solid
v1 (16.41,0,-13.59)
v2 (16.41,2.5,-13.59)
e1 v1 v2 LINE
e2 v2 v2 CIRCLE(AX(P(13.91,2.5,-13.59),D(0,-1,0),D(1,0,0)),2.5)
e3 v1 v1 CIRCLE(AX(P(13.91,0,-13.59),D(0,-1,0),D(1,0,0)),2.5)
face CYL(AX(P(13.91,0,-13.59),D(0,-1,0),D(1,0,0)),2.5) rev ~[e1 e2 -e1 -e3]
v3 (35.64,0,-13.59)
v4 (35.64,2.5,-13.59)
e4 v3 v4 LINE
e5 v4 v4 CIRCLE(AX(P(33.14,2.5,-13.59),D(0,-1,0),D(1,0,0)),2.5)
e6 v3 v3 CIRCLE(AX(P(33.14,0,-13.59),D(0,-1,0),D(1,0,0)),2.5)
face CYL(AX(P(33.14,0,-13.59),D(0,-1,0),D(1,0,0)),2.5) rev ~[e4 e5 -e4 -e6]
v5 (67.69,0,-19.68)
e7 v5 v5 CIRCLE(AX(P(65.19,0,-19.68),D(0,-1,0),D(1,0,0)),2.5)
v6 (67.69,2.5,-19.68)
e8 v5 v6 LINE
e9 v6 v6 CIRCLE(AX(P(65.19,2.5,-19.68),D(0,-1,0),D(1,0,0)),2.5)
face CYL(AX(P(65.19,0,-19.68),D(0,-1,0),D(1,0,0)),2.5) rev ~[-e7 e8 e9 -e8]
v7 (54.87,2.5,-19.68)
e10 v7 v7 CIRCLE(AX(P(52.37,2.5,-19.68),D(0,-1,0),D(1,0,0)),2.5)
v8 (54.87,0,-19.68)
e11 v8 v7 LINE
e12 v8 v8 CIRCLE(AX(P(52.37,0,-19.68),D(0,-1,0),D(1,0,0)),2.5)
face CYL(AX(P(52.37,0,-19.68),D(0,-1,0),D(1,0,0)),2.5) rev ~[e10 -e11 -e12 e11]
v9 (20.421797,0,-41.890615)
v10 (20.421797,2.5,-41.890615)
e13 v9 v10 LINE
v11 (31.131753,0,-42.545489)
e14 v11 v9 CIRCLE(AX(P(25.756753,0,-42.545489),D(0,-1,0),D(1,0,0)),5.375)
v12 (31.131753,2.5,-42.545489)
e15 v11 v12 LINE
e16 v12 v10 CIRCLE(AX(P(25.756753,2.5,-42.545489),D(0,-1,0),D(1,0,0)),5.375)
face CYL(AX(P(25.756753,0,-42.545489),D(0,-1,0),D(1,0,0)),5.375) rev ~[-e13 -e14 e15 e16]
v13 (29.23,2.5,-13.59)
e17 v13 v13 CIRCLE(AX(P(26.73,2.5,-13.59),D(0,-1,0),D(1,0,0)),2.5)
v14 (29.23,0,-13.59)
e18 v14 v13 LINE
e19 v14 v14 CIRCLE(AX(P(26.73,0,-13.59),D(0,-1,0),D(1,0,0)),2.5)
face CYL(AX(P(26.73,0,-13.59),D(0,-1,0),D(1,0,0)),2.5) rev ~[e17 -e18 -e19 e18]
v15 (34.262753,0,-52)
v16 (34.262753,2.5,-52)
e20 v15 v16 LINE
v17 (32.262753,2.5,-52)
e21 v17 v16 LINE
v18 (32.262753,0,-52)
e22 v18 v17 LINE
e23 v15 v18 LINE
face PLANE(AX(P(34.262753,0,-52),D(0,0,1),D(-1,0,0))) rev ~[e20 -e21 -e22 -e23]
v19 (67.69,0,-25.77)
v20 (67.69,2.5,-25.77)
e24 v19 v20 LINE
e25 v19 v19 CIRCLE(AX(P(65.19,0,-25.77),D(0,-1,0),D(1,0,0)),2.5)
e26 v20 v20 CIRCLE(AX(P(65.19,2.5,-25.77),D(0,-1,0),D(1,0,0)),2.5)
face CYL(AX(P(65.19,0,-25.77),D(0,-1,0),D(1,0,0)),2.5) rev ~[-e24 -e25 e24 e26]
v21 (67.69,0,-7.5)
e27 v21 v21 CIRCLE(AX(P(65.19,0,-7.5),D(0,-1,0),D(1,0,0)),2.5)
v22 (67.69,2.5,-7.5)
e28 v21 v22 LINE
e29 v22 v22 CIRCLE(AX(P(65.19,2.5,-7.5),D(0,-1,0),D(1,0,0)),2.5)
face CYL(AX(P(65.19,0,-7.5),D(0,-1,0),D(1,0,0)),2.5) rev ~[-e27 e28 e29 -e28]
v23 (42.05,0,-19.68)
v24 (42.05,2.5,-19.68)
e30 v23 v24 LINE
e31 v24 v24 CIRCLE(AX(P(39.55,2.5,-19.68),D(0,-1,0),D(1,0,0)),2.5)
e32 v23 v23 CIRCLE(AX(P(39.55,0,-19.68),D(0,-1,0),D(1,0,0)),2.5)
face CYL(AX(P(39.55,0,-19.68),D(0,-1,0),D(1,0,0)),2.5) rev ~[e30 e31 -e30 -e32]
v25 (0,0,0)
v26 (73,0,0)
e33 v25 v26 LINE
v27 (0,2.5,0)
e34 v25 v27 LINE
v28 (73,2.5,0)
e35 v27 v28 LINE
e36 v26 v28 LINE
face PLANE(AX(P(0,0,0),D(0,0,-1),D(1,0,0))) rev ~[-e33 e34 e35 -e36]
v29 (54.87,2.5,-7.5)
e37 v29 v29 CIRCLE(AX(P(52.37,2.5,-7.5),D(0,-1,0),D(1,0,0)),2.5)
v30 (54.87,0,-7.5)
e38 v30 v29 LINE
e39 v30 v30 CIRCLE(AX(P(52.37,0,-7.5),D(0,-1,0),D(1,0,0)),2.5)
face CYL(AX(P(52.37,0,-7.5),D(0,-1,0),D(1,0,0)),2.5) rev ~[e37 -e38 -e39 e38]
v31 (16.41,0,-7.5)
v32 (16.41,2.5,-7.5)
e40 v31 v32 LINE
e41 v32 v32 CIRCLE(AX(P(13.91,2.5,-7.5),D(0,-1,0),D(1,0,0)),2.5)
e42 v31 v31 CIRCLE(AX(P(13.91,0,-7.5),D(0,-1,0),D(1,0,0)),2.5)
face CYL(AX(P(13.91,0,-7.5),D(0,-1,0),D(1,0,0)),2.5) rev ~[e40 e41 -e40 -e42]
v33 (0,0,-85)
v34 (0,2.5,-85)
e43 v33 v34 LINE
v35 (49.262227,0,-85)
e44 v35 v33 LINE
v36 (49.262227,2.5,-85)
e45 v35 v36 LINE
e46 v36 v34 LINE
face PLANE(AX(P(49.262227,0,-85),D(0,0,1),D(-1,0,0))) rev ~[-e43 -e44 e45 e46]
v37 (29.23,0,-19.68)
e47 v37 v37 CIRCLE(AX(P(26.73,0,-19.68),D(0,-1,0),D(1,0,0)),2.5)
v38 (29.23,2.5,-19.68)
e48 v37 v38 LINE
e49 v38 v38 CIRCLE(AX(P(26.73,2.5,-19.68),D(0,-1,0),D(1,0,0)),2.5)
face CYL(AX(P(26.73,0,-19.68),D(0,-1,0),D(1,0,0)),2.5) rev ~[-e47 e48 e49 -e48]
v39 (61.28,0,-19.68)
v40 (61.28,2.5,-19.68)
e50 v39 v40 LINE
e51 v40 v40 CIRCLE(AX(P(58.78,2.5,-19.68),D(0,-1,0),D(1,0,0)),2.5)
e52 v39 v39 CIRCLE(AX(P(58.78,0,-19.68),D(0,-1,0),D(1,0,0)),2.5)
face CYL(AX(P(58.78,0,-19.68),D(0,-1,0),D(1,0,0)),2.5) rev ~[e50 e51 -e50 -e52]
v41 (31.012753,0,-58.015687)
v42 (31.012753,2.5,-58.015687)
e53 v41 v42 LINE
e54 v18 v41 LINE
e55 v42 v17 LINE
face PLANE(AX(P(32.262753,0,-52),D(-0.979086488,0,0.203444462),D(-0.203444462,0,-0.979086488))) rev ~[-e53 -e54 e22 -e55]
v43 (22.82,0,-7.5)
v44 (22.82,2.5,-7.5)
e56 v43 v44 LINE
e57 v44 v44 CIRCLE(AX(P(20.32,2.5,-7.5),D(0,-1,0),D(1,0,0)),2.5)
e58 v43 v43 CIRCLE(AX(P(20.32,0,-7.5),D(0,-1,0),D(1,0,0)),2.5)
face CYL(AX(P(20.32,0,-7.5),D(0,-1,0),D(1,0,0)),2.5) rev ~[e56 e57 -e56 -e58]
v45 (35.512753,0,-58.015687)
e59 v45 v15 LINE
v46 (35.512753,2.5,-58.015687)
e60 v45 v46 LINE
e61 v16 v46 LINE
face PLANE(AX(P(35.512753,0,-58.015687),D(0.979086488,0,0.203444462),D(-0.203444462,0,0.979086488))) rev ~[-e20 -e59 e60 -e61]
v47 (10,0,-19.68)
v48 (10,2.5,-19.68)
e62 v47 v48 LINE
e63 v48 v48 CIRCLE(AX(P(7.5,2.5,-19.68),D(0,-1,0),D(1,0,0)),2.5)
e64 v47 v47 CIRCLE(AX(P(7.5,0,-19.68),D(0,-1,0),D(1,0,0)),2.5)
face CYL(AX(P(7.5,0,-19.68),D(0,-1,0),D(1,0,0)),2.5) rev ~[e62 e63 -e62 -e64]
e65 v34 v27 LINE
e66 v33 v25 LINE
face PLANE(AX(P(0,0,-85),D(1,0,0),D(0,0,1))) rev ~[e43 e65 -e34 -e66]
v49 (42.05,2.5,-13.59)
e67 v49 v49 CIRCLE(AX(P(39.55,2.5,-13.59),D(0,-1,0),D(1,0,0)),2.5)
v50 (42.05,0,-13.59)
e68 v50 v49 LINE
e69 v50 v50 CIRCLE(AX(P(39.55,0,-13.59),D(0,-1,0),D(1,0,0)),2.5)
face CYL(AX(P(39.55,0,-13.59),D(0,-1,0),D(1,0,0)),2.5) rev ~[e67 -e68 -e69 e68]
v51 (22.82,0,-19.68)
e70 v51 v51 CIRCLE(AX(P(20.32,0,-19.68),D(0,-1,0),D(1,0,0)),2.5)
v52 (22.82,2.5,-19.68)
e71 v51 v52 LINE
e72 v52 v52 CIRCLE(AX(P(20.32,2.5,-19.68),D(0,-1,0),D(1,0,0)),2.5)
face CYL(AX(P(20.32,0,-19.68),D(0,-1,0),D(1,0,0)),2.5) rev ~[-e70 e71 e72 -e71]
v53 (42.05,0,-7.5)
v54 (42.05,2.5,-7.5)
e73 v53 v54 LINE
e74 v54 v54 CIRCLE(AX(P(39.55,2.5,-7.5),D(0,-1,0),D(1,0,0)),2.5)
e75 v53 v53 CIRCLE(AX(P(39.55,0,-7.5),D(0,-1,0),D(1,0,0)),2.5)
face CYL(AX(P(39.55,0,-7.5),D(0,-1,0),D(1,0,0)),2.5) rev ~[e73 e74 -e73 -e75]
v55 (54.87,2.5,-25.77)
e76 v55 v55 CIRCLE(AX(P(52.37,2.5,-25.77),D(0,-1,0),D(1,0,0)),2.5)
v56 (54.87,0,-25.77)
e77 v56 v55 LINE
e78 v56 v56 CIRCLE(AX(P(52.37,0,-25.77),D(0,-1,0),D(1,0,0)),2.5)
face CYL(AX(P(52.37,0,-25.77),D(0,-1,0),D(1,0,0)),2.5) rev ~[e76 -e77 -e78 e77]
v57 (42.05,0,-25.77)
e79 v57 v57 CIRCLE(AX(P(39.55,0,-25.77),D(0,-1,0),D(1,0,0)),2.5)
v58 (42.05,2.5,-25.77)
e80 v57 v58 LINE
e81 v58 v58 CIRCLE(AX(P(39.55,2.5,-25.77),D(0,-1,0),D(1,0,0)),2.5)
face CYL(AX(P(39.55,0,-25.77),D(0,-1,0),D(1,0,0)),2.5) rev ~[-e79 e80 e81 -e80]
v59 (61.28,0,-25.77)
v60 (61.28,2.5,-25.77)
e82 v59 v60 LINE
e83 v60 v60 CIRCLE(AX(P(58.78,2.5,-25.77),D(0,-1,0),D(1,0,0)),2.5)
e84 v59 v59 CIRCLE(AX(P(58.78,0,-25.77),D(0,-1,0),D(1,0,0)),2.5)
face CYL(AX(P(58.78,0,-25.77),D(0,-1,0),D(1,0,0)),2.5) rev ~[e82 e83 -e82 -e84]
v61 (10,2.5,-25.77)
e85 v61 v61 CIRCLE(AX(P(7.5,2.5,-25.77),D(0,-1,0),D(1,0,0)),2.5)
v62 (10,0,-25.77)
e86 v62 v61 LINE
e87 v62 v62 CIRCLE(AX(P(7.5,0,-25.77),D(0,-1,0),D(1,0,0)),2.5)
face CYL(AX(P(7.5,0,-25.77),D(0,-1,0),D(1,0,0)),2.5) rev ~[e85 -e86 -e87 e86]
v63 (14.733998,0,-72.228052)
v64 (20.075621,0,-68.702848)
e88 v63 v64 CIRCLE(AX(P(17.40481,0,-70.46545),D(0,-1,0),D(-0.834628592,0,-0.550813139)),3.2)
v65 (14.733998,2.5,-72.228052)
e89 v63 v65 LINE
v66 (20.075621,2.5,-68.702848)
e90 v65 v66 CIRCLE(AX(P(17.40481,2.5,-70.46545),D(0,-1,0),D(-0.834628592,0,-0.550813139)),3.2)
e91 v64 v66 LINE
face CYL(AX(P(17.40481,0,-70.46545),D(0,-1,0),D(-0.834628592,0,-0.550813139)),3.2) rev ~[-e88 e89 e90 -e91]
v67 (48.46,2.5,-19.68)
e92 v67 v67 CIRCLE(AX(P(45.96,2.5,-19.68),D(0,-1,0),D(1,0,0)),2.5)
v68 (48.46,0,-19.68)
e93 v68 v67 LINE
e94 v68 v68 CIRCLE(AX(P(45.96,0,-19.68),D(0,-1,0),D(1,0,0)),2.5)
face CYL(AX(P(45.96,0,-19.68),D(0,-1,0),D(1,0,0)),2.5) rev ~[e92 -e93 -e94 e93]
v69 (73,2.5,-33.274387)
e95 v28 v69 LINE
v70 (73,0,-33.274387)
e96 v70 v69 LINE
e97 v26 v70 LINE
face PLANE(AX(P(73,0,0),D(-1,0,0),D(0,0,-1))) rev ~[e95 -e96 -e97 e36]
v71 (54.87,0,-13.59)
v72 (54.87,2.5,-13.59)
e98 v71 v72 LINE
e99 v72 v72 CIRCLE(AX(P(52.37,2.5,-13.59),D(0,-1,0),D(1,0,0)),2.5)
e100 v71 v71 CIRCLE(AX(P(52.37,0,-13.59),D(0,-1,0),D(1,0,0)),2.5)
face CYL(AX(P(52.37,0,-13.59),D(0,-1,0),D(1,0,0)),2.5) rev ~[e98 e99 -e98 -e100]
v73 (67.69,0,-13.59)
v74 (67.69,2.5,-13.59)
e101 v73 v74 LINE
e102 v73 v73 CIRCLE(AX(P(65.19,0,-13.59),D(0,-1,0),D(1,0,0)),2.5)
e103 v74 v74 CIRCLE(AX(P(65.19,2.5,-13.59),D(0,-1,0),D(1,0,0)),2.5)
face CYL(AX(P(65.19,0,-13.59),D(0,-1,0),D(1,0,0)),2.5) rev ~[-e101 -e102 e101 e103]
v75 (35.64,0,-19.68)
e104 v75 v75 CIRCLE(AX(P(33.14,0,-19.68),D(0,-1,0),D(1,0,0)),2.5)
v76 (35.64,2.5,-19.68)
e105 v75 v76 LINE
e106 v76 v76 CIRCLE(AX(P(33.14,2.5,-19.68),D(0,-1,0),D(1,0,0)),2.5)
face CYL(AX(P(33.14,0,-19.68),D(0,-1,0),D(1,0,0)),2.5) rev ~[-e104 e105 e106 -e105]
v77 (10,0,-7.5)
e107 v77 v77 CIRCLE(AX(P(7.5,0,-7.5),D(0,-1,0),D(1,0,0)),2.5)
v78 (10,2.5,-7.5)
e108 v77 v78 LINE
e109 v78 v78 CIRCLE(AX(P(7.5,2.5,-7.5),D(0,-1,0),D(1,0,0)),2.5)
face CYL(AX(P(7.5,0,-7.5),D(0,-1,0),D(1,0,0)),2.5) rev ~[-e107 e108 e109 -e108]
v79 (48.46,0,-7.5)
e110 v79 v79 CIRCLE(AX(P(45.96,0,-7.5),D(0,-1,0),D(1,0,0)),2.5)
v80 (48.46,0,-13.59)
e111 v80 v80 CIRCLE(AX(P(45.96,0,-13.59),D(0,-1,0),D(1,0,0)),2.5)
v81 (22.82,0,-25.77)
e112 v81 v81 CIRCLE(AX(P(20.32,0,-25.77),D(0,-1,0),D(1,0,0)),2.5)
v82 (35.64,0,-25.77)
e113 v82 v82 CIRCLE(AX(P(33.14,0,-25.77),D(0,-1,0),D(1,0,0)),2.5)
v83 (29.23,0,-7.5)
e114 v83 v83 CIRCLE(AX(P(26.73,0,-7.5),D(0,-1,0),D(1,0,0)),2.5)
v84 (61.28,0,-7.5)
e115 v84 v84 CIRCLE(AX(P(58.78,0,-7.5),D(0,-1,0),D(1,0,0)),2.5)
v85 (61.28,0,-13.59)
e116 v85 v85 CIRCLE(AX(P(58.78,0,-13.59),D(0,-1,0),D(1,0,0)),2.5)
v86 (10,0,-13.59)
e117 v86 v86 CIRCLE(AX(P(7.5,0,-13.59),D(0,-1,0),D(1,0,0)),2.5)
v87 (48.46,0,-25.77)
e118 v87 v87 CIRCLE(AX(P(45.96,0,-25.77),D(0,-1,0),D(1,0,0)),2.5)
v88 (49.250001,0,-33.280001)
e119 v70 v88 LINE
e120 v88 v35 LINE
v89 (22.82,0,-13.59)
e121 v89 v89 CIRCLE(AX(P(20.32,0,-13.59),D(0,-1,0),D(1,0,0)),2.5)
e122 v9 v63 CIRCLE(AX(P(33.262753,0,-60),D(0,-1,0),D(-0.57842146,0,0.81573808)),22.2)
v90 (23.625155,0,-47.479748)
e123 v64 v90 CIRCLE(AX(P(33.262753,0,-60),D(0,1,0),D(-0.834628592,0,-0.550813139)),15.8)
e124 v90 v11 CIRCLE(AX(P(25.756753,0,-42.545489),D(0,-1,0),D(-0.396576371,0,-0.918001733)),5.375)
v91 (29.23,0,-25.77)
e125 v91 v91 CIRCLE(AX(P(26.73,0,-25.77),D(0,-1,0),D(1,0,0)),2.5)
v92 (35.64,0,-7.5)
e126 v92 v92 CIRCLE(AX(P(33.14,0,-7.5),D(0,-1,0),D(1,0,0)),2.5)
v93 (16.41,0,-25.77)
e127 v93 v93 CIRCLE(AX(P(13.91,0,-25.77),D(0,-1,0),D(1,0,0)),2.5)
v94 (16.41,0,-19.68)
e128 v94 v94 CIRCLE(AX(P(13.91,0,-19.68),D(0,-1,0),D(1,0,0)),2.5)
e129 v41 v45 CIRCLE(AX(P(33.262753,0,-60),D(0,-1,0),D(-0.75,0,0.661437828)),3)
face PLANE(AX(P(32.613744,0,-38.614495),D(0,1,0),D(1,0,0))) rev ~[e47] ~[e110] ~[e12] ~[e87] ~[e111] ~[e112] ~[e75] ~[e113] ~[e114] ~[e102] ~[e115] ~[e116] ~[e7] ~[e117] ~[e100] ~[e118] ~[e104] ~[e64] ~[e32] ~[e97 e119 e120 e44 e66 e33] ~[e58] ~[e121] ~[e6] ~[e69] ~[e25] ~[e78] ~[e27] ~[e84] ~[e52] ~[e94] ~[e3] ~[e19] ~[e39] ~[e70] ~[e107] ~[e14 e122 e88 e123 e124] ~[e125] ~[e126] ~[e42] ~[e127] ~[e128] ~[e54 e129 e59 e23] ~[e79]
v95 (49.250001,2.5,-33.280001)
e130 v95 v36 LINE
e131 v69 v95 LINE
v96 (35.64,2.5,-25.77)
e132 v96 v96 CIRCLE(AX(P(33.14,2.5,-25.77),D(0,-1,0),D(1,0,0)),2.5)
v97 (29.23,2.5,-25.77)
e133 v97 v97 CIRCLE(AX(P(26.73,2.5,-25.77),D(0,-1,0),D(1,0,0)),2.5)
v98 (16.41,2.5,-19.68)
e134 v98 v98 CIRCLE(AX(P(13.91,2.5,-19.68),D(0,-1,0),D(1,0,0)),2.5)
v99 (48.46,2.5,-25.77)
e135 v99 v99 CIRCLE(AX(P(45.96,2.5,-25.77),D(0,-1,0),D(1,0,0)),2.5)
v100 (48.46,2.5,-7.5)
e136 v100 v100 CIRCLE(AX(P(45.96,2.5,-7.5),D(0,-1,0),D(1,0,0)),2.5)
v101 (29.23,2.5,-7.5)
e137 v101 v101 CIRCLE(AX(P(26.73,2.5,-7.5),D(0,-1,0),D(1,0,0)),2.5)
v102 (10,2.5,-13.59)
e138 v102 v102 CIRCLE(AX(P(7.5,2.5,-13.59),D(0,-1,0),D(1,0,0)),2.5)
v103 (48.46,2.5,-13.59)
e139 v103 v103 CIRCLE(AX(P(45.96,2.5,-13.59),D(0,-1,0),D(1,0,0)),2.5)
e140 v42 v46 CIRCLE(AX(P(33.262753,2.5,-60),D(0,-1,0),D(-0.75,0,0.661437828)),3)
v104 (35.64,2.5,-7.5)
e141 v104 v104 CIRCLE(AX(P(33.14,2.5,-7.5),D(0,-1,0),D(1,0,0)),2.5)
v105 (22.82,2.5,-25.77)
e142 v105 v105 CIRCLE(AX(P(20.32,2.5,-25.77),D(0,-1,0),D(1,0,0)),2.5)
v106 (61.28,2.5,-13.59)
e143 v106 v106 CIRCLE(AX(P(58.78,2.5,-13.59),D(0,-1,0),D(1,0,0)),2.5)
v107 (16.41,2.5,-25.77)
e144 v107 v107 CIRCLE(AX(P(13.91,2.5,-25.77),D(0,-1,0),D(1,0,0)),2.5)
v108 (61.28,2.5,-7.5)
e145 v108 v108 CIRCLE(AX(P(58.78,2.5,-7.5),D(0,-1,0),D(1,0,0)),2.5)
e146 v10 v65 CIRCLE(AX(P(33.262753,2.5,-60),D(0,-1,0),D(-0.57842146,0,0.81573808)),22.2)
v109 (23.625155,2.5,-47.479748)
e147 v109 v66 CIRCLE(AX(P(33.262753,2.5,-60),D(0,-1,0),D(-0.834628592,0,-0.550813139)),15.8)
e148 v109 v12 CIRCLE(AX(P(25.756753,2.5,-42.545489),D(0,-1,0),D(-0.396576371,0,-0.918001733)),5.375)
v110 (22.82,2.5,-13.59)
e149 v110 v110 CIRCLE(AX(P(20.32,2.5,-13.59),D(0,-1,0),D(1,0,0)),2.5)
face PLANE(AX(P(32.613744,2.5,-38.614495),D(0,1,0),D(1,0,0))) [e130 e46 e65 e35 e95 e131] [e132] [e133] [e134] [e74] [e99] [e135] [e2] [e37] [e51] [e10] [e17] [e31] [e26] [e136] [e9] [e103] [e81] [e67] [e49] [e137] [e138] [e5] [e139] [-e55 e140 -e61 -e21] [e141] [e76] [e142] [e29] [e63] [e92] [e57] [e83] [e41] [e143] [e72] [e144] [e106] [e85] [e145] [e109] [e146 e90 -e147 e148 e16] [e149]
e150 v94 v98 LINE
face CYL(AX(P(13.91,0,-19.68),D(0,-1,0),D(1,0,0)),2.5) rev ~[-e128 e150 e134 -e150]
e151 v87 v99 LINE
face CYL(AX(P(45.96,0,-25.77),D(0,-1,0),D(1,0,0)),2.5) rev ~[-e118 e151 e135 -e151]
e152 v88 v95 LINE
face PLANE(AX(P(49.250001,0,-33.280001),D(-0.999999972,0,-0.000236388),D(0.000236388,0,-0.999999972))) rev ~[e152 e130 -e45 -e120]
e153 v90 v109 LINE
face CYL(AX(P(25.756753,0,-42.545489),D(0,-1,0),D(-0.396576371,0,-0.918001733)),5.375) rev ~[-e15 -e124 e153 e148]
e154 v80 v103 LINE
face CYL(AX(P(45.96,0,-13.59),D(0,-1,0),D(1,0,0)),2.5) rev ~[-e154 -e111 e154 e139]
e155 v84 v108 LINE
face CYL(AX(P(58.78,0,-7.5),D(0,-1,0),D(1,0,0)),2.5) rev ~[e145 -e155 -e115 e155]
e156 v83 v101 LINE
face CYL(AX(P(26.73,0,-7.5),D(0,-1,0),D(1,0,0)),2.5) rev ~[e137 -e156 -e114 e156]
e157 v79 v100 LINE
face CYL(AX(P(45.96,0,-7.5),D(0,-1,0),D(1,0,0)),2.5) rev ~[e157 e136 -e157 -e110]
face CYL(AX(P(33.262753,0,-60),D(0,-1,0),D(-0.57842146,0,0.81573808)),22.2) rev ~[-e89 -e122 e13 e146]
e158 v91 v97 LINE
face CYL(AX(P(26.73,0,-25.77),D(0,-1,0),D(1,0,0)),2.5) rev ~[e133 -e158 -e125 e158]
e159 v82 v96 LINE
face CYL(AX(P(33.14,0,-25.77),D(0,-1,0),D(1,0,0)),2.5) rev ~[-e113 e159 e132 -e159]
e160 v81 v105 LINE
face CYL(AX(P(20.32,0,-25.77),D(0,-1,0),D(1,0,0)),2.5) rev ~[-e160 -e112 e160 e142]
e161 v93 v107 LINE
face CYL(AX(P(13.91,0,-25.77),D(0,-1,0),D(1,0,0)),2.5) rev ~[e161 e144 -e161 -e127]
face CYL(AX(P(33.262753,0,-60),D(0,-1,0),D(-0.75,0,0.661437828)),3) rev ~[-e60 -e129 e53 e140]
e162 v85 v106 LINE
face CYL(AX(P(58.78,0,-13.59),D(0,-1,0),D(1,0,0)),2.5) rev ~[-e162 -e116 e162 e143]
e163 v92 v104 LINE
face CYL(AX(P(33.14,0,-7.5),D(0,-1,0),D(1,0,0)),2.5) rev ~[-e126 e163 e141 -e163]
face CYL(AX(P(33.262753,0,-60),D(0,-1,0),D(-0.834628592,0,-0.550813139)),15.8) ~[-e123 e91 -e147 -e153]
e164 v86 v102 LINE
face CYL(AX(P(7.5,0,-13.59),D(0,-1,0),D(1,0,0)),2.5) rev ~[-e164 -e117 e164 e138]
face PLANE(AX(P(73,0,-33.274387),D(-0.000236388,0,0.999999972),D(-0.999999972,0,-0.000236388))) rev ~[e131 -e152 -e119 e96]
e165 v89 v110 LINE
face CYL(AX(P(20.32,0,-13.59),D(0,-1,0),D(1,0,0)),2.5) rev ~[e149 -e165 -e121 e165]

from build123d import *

# Parameters (mm, degrees)
Y_KSEKLIK_EKSTR_ZYON1_DEPTH = 2.5
IZIM2_R                     = 2.5
KES_EKSTR_ZYON1_DEPTH       = 3.5
KES_EKSTR_ZYON2_DEPTH       = 3.5
IZIM5_R                     = 2.5
KES_EKSTR_ZYON3_DEPTH       = 10


with BuildPart() as part:
    # Çizim1 → Yükseklik-Ekstrüzyon1 (new body)
    with BuildSketch(Plane(origin=(0, 0, 0), x_dir=(1, 0, 0), z_dir=(0, 1, 0))):
        Polygon((0, 85), (0, 0), (73, 0), (73, 33.274387234), (49.250000664, 33.280001445), (49.262226642, 85), align=None)
    extrude(amount=Y_KSEKLIK_EKSTR_ZYON1_DEPTH)

    # Çizim2 → Kes-Ekstrüzyon1 (cut, through all)
    with BuildSketch(Plane.XZ):
        with BuildLine():
            Line((32.262752909, -52), (31.012752909, -58.015686517))
            ThreePointArc((31.012752909, -58.015686517), (33.262752909, -63), (35.512752909, -58.015686517))
            Line((35.512752909, -58.015686517), (34.262752909, -52))
            Line((34.262752909, -52), (32.262752909, -52))
        make_face()
        with Locations((33.262752909, -60)):
            Circle(IZIM2_R, mode=Mode.SUBTRACT)
        with Locations((33.262752909, -60)):
            Circle(IZIM2_R)
    extrude(amount=-KES_EKSTR_ZYON1_DEPTH, mode=Mode.SUBTRACT)

    # Çizim3 → Kes-Ekstrüzyon2 (cut, through all)
    with BuildSketch(Plane.XZ):
        with BuildLine():
            ThreePointArc((23.625155421, -47.479747819), (21.093389501, -45.218251496), (20.421796506, -41.890614625))
            ThreePointArc((20.421796506, -41.890614625), (11.442928986, -55.909121855), (14.73399817, -72.228051677))
            ThreePointArc((14.73399817, -72.228051677), (19.167411707, -73.136261128), (20.075621158, -68.70284759))
            ThreePointArc((20.075621158, -68.70284759), (17.679202056, -57.393672541), (23.625155421, -47.479747819))
        make_face()
        with BuildLine():
            ThreePointArc((23.625155421, -47.479747819), (28.709149541, -47.037034129), (31.131753414, -42.545488503))
            ThreePointArc((31.131753414, -42.545488503), (26.084801903, -37.180508616), (20.421796506, -41.890614625))
            ThreePointArc((20.421796506, -41.890614625), (22.396967687, -40.640901066), (24.492585078, -39.605781304))
            ThreePointArc((24.492585078, -39.605781304), (28.696460613, -41.281320168), (27.02092175, -45.485195703))
            ThreePointArc((27.02092175, -45.485195703), (25.260651743, -46.376256868), (23.625155421, -47.479747819))
        make_face()
        with BuildLine():
            ThreePointArc((24.492585078, -39.605781304), (22.396967687, -40.640901066), (20.421796506, -41.890614625))
            ThreePointArc((20.421796506, -41.890614625), (21.093389501, -45.218251496), (23.625155421, -47.479747819))
            ThreePointArc((23.625155421, -47.479747819), (25.260651743, -46.376256868), (27.02092175, -45.485195703))
            ThreePointArc((27.02092175, -45.485195703), (28.696460613, -41.281320168), (24.492585078, -39.605781304))
        make_face()
    extrude(amount=-KES_EKSTR_ZYON2_DEPTH, mode=Mode.SUBTRACT)

    # Çizim5 → Kes-Ekstrüzyon3 (cut)
    with BuildSketch(Plane.XZ):
        with Locations((65.19, -7.5)):
            Circle(IZIM5_R)
        with Locations((58.78, -7.5)):
            Circle(IZIM5_R)
        with Locations((52.37, -7.5)):
            Circle(IZIM5_R)
        with Locations((45.96, -7.5)):
            Circle(IZIM5_R)
        with Locations((39.55, -7.5)):
            Circle(IZIM5_R)
        with Locations((33.14, -7.5)):
            Circle(IZIM5_R)
        with Locations((26.73, -7.5)):
            Circle(IZIM5_R)
        with Locations((20.32, -7.5)):
            Circle(IZIM5_R)
        with Locations((13.91, -7.5)):
            Circle(IZIM5_R)
        with Locations((7.5, -13.59)):
            Circle(IZIM5_R)
        with Locations((7.5, -19.68)):
            Circle(IZIM5_R)
        with Locations((7.5, -25.77)):
            Circle(IZIM5_R)
        with Locations((7.5, -7.5)):
            Circle(IZIM5_R)
        with Locations((13.91, -13.59)):
            Circle(IZIM5_R)
        with Locations((20.32, -13.59)):
            Circle(IZIM5_R)
        with Locations((26.73, -13.59)):
            Circle(IZIM5_R)
        with Locations((33.14, -13.59)):
            Circle(IZIM5_R)
        with Locations((39.55, -13.59)):
            Circle(IZIM5_R)
        with Locations((45.96, -13.59)):
            Circle(IZIM5_R)
        with Locations((52.37, -13.59)):
            Circle(IZIM5_R)
        with Locations((58.78, -13.59)):
            Circle(IZIM5_R)
        with Locations((65.19, -13.59)):
            Circle(IZIM5_R)
        with Locations((13.91, -19.68)):
            Circle(IZIM5_R)
        with Locations((20.32, -19.68)):
            Circle(IZIM5_R)
        with Locations((26.73, -19.68)):
            Circle(IZIM5_R)
        with Locations((33.14, -19.68)):
            Circle(IZIM5_R)
        with Locations((39.55, -19.68)):
            Circle(IZIM5_R)
        with Locations((45.96, -19.68)):
            Circle(IZIM5_R)
        with Locations((52.37, -19.68)):
            Circle(IZIM5_R)
        with Locations((58.78, -19.68)):
            Circle(IZIM5_R)
        with Locations((65.19, -19.68)):
            Circle(IZIM5_R)
        with Locations((13.91, -25.77)):
            Circle(IZIM5_R)
        with Locations((20.32, -25.77)):
            Circle(IZIM5_R)
        with Locations((26.73, -25.77)):
            Circle(IZIM5_R)
        with Locations((33.14, -25.77)):
            Circle(IZIM5_R)
        with Locations((39.55, -25.77)):
            Circle(IZIM5_R)
        with Locations((45.96, -25.77)):
            Circle(IZIM5_R)
        with Locations((52.37, -25.77)):
            Circle(IZIM5_R)
        with Locations((58.78, -25.77)):
            Circle(IZIM5_R)
        with Locations((65.19, -25.77)):
            Circle(IZIM5_R)
    extrude(amount=-KES_EKSTR_ZYON3_DEPTH, mode=Mode.SUBTRACT)


solid = part.part
